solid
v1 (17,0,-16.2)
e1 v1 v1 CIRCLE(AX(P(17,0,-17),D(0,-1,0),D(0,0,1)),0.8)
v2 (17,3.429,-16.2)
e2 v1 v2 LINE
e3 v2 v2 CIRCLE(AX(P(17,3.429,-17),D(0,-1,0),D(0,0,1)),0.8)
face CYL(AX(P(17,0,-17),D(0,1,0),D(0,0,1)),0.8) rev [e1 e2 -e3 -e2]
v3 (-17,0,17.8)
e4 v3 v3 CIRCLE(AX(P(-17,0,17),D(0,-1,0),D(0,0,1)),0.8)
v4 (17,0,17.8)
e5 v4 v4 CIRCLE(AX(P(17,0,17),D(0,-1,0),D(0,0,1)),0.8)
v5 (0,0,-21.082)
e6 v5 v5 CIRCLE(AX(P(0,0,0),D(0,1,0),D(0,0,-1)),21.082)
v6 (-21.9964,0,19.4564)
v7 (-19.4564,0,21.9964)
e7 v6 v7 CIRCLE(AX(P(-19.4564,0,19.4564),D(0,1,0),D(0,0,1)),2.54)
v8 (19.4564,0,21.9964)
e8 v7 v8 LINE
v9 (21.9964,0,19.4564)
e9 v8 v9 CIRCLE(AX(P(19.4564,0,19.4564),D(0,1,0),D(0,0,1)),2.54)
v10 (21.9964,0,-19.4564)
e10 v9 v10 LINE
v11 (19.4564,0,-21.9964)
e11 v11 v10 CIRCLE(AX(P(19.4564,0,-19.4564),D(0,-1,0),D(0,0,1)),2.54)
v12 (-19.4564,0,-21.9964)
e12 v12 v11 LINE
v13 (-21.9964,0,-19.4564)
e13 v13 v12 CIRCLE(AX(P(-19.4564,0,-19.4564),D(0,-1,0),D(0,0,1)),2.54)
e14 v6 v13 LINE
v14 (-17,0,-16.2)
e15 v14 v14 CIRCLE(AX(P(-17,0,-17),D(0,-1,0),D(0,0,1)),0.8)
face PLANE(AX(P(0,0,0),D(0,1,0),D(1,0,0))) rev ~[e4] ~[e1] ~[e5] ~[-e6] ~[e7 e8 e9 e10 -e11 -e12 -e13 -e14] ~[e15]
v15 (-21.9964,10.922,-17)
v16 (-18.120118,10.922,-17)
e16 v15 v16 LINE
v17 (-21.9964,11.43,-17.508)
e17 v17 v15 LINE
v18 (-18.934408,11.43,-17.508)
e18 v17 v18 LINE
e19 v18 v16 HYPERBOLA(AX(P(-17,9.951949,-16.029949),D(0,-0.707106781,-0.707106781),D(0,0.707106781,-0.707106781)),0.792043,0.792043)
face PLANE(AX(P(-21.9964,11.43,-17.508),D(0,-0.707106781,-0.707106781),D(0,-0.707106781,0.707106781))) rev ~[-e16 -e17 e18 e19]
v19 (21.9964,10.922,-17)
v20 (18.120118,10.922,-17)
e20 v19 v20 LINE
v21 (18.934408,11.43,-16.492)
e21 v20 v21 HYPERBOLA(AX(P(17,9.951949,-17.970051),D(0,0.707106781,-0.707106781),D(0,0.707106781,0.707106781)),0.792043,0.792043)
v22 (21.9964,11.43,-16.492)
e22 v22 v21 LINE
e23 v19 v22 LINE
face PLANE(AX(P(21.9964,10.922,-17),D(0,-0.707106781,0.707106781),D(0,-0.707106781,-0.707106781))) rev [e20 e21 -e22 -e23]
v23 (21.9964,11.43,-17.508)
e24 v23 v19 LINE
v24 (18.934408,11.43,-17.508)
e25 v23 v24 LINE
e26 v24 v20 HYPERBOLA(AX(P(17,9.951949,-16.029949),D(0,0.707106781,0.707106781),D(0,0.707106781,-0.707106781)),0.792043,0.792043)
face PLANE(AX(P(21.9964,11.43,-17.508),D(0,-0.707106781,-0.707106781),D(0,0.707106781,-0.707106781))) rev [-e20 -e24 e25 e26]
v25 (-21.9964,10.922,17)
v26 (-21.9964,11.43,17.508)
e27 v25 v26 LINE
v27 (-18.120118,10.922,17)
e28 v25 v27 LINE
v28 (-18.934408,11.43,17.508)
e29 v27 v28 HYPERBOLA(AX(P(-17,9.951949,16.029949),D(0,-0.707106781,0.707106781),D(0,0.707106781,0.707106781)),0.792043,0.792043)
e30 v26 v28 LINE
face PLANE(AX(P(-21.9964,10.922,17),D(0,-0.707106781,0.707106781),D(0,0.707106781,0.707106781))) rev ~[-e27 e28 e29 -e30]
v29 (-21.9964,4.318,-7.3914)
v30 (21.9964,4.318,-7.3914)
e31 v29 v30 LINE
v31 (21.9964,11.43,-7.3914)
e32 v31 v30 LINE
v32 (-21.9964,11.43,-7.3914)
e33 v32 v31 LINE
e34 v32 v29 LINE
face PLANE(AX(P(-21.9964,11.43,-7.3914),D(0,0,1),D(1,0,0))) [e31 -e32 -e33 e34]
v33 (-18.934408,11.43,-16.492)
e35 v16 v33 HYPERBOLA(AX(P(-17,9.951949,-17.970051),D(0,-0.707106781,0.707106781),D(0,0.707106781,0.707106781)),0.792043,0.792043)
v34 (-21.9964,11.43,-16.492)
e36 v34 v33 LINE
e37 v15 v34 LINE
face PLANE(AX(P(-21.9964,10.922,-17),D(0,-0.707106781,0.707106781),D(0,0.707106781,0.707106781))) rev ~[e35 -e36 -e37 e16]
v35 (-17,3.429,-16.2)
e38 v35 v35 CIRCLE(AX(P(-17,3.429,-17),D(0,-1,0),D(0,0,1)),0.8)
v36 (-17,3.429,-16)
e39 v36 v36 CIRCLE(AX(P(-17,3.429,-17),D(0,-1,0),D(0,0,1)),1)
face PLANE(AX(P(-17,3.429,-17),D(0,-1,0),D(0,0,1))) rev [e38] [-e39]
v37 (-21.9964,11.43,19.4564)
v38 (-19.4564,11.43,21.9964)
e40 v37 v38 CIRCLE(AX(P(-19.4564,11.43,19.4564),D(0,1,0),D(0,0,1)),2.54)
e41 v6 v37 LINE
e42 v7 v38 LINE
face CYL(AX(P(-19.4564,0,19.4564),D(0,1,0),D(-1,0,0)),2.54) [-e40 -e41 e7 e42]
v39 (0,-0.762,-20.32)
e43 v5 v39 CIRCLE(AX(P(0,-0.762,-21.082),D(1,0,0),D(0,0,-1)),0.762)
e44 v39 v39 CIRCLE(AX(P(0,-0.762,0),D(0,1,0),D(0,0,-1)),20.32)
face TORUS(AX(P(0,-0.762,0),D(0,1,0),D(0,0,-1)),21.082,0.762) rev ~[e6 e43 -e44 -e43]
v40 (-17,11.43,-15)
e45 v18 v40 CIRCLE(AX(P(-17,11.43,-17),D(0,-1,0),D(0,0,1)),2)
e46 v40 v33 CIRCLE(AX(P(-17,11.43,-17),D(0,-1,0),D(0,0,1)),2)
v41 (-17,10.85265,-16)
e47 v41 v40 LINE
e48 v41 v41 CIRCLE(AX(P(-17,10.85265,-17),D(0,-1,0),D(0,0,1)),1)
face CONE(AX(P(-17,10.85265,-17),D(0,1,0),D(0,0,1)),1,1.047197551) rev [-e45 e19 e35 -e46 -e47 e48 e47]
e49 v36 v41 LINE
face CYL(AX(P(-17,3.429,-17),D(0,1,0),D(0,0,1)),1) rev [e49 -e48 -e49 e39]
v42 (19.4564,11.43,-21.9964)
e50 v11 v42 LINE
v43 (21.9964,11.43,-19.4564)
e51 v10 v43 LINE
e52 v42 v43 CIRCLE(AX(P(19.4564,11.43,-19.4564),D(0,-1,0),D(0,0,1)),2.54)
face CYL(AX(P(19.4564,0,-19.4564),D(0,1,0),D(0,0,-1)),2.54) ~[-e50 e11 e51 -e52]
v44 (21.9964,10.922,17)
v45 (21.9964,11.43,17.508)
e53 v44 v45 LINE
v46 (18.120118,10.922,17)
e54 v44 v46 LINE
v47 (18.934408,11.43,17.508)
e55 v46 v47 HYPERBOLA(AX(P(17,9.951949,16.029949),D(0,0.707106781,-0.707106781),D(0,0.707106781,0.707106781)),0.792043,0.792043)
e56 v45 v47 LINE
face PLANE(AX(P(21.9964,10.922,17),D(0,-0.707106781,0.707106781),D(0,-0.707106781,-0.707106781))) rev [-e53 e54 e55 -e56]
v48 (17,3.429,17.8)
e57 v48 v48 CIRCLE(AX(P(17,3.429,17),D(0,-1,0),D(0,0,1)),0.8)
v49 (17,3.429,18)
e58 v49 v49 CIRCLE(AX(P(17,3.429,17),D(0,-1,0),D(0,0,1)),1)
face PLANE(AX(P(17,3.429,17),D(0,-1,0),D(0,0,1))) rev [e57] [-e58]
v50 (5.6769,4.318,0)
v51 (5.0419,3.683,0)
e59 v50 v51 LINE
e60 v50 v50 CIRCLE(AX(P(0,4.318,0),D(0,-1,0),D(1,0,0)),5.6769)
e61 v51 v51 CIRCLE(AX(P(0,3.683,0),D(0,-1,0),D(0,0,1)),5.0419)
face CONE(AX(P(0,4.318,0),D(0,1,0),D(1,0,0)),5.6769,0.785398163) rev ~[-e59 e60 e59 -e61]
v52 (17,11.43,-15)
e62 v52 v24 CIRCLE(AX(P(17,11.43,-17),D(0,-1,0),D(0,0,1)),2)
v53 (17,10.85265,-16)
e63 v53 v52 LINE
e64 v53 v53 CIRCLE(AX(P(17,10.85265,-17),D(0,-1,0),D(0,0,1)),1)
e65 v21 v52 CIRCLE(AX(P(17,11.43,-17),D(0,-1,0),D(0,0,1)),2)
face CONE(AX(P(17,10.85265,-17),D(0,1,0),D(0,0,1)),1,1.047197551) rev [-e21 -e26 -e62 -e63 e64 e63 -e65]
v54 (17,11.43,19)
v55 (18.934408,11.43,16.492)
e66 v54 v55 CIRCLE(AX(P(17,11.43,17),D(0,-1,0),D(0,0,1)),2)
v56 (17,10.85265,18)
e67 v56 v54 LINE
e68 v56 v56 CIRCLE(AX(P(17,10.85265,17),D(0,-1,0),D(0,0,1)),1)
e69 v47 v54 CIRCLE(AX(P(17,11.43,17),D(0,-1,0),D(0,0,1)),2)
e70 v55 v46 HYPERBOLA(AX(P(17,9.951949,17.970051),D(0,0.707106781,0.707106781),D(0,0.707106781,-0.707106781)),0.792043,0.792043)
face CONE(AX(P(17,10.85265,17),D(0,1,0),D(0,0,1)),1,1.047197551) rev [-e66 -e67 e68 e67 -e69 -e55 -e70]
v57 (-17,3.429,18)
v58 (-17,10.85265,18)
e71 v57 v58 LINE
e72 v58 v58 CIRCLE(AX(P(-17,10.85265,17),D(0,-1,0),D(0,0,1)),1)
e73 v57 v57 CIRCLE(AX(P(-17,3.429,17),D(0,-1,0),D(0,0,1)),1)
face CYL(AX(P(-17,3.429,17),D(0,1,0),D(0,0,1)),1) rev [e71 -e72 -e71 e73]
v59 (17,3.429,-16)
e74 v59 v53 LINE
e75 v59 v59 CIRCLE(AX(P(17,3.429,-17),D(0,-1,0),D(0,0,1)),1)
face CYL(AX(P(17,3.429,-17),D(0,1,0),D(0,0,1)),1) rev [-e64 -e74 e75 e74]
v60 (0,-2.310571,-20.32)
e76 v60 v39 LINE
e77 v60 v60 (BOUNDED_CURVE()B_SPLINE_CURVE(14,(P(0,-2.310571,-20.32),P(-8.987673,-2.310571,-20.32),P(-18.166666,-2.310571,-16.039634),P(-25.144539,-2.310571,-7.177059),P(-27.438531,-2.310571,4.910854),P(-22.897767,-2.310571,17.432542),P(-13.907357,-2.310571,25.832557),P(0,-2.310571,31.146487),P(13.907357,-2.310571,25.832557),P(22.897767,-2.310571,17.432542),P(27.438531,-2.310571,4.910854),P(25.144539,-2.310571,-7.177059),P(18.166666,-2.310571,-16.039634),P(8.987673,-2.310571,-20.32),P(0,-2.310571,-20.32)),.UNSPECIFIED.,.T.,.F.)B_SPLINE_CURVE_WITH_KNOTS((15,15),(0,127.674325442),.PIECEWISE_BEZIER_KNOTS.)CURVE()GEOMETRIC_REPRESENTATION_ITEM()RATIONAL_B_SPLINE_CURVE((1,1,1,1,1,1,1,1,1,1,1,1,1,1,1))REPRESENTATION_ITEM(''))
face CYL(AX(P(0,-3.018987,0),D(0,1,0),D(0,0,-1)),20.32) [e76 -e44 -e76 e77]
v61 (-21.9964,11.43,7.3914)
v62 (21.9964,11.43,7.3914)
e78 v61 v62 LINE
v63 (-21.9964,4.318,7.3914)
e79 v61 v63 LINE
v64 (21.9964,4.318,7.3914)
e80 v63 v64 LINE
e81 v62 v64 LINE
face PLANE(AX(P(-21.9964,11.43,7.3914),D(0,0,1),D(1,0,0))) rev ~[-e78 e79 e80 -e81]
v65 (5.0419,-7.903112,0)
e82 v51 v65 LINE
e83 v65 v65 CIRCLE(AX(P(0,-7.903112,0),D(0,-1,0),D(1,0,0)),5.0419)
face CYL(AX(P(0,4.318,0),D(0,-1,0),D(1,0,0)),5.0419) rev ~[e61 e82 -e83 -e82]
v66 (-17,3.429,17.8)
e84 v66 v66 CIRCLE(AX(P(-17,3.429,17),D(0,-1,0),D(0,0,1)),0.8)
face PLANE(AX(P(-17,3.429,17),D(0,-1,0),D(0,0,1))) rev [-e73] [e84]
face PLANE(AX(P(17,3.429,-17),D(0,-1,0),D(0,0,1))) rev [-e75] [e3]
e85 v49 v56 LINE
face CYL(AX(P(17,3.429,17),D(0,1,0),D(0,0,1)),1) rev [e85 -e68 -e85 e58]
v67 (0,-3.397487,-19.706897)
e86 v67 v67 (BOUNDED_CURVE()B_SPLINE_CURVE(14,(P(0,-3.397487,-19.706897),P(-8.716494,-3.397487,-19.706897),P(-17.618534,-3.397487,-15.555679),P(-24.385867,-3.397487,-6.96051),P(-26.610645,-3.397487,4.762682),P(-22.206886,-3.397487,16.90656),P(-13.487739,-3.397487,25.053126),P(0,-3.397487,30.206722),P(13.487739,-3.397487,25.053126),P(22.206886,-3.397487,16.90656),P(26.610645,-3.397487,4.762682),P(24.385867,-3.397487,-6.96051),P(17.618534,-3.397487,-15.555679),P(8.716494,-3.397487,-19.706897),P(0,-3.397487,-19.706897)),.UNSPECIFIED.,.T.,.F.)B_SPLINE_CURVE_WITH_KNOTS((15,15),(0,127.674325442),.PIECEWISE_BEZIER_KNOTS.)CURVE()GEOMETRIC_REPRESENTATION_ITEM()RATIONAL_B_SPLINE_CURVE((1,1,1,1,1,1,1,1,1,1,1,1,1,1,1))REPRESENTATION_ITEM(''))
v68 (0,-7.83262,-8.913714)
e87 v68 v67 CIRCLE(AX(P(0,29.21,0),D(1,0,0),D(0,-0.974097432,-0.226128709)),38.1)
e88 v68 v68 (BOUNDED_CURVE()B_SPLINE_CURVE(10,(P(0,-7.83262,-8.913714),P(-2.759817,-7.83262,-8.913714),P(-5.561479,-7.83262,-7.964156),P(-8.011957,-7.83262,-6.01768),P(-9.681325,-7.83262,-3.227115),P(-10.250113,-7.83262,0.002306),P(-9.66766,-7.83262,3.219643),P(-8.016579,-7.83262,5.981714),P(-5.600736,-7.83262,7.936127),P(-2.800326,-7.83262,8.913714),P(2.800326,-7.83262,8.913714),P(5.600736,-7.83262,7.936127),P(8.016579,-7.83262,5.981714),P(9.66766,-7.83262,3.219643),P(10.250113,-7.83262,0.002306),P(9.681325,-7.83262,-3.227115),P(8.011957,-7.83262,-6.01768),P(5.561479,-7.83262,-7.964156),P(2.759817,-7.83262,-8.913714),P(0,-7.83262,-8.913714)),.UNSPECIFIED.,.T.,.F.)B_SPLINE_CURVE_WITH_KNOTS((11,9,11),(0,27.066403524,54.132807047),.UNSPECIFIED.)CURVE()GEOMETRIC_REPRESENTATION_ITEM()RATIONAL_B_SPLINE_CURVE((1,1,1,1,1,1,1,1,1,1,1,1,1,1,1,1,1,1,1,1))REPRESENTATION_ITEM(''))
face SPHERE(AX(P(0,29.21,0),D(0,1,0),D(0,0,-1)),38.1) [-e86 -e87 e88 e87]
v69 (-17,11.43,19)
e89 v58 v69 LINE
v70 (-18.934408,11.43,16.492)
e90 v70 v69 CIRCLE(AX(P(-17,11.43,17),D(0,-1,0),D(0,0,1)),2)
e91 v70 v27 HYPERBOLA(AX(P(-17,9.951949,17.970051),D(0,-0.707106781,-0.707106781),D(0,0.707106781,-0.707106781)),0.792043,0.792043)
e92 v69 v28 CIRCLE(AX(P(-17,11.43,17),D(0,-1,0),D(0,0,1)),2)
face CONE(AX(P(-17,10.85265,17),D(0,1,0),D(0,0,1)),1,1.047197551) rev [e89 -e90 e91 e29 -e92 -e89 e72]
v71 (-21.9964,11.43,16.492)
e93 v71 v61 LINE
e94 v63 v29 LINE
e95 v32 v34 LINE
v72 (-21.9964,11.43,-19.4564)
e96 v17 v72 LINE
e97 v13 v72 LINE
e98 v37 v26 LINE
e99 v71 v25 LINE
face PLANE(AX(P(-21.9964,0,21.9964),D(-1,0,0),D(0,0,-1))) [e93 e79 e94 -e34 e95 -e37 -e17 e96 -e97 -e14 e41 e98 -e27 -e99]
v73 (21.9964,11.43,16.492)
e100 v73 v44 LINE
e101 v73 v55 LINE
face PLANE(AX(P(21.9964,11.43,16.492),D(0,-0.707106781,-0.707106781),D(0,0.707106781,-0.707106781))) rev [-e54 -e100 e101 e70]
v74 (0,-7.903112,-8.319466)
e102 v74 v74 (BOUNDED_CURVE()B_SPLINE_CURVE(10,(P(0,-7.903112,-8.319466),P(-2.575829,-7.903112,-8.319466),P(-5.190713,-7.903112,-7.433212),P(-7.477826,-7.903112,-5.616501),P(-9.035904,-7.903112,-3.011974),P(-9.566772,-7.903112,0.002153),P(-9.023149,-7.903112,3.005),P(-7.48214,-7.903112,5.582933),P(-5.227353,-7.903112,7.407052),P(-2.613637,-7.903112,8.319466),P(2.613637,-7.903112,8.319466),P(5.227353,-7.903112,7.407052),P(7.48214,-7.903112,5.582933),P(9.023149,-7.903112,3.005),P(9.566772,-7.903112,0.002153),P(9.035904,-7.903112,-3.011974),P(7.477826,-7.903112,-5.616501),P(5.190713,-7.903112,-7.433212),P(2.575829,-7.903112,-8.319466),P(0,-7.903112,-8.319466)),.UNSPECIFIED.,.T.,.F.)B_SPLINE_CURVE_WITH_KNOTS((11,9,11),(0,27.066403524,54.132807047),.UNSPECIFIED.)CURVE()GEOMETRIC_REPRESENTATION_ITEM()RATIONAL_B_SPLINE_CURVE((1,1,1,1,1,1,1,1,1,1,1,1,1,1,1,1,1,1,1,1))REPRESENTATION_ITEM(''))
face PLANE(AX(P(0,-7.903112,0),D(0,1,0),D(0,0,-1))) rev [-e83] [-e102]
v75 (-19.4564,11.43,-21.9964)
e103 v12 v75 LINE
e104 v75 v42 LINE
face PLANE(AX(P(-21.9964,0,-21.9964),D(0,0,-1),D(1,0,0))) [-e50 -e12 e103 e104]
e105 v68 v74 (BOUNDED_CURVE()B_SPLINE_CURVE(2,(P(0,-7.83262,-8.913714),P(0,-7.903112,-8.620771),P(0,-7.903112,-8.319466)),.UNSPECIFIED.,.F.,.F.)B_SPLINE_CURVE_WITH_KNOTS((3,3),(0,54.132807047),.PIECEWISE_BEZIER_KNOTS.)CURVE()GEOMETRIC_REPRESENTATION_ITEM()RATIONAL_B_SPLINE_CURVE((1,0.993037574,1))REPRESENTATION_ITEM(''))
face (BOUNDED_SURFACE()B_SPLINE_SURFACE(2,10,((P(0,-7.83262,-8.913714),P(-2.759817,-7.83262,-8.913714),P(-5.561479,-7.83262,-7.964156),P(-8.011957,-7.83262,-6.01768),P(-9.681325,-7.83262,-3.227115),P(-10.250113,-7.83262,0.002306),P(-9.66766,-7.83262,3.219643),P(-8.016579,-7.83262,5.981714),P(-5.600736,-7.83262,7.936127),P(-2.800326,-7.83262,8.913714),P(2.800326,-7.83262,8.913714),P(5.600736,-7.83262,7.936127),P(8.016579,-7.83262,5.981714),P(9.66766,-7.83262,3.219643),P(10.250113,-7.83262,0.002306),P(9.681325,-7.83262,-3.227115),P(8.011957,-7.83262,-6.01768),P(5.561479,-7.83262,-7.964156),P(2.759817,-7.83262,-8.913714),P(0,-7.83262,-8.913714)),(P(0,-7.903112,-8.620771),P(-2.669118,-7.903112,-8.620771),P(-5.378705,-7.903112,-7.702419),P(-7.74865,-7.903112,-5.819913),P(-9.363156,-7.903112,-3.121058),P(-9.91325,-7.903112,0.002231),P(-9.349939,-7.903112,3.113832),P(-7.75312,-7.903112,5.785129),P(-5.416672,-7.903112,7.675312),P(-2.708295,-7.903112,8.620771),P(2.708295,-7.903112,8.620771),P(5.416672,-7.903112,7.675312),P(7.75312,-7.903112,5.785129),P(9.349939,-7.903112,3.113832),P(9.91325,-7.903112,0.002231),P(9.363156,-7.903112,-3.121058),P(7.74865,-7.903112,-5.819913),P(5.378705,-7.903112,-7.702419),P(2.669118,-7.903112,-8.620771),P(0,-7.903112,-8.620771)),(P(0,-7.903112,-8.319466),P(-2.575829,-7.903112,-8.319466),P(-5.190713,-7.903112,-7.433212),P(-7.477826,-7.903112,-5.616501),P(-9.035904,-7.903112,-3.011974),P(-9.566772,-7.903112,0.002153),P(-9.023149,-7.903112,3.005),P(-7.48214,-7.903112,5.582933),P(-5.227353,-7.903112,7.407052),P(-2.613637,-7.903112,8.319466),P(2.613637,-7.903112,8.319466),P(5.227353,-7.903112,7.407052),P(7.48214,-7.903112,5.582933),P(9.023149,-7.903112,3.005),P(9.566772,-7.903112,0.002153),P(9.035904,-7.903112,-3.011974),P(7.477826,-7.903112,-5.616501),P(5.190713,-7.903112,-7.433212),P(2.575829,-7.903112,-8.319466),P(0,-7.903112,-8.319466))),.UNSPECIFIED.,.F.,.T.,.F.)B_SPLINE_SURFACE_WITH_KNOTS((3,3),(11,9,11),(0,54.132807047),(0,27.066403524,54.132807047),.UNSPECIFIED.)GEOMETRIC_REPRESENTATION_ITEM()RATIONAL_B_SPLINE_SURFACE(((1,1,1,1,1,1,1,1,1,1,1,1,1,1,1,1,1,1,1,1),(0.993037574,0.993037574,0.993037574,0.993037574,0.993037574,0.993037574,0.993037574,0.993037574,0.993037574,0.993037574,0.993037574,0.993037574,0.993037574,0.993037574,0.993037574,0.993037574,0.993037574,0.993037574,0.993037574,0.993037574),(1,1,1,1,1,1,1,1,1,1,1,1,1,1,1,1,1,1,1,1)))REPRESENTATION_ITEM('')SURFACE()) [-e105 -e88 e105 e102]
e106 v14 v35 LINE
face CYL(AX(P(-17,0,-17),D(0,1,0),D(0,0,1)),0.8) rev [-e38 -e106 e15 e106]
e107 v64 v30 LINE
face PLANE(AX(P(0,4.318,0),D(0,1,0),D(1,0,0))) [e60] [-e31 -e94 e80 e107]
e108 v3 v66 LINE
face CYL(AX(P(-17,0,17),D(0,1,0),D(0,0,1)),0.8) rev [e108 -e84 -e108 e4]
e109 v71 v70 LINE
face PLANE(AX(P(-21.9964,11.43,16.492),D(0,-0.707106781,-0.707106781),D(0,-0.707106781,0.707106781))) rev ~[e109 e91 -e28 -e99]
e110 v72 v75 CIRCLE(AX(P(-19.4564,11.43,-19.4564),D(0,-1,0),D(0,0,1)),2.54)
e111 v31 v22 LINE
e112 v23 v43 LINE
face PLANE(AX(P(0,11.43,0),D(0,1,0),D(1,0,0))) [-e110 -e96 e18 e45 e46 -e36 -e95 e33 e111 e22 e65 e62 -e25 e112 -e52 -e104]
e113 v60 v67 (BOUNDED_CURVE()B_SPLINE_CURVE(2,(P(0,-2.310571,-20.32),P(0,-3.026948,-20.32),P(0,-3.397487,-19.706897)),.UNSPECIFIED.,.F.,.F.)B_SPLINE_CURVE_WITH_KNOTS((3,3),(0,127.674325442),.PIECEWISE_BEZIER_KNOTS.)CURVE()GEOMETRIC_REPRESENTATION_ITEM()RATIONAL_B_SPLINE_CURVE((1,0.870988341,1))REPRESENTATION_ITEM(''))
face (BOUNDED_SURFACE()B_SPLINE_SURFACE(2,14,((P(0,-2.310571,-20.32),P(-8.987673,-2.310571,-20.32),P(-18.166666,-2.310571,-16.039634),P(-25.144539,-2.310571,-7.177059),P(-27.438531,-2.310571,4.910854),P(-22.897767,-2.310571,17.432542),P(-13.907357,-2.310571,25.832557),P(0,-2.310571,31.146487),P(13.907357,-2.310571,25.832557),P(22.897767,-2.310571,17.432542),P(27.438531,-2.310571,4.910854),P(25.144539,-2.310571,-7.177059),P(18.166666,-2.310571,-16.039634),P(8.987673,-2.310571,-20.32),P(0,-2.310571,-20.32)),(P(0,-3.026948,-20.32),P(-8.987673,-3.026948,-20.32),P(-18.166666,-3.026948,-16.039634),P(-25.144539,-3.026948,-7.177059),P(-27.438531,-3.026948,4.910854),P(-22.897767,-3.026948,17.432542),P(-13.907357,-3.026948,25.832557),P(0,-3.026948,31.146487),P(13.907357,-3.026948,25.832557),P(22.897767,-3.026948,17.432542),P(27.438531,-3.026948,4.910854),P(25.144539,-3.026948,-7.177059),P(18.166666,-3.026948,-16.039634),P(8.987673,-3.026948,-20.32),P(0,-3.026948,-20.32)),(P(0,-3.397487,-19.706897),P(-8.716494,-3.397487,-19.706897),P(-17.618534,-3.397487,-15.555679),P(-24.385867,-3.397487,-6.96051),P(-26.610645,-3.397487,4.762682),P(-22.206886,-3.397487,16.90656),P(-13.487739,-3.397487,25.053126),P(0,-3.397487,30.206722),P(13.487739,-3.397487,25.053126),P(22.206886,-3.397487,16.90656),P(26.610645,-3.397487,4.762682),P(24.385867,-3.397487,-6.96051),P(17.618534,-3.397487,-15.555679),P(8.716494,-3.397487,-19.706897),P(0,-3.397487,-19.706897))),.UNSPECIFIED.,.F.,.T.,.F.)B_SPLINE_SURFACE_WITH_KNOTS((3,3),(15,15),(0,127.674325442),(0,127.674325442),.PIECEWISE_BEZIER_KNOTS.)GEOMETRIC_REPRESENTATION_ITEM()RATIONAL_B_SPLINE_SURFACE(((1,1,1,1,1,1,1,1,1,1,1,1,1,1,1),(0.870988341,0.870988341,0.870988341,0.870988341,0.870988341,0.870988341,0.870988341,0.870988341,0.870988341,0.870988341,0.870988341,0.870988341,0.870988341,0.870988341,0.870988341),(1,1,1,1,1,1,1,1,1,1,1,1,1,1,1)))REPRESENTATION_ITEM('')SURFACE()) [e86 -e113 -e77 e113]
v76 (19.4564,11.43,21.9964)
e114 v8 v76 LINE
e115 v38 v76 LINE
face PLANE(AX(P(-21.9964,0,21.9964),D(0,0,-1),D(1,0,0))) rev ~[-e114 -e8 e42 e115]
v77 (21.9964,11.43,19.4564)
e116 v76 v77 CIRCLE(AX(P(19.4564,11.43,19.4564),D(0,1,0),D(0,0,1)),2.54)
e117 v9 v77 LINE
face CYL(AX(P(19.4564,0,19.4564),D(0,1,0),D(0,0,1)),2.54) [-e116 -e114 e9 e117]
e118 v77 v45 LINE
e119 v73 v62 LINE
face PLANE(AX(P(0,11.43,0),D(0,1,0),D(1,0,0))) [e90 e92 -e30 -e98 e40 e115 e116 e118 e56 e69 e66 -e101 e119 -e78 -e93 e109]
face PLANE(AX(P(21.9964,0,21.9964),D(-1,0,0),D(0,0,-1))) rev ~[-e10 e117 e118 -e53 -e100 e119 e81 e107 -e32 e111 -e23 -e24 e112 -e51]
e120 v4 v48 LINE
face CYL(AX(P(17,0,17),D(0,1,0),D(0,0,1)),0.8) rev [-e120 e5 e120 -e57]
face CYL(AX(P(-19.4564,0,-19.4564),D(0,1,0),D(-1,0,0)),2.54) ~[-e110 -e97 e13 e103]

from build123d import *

# Parameters (mm, degrees)
SKETCH1_W                         = 43.9928
SKETCH1_H                         = 43.9928
EXTRUDE1_DEPTH                    = 11.43
M2X0_4_TAPPED_HOLE1_AT_2_COUNT    = 2
M2X0_4_TAPPED_HOLE1_AT_2_PITCH    = 34
M2X0_4_TAPPED_HOLE1_AT_3_COUNT    = 2
M2X0_4_TAPPED_HOLE1_AT_3_PITCH    = 48.083261121
M2X0_4_TAPPED_HOLE1_AT_4_COUNT    = 2
M2X0_4_TAPPED_HOLE1_AT_4_PITCH    = 34
FILLET1_R                         = 2.54
FILLET2_R                         = 0.762
FILLET3_R                         = 1.27
SKETCH8_W                         = 43.9928
SKETCH8_H                         = 14.7828
CUT_EXTRUDE1_DEPTH                = 7.112
F_3_8_CLEARANCE_HOLE1_D           = 10.0838
F_3_8_CLEARANCE_HOLE1_CSINK_D     = 11.3538
F_3_8_CLEARANCE_HOLE1_CSINK_ANGLE = 90
CUT_EXTRUDE2_DEPTH                = 4.9964
FILLET4_R                         = 2.54


with BuildPart() as part:
    # Sketch1 → Extrude1 (new body)
    with BuildSketch(Plane(origin=(0, 0, 0), x_dir=(1, 0, 0), z_dir=(0, 1, 0))):
        Rectangle(SKETCH1_W, SKETCH1_H)
    extrude(amount=EXTRUDE1_DEPTH)

    # Sketch2 → M2x0.4 Tapped Hole1 (revolve, cut)
    with BuildSketch(Plane(origin=(-17, 11.43, -17), x_dir=(0, 0, 1), z_dir=(1, 0, 0))):
        Polygon((0, 0), (0, 11.43), (0.8, 11.43), (0.8, 8.001), (1, 8.001), (1, 0.577350269), (2, 0), align=None)
    m2x0_4_tapped_hole1 = revolve(axis=Axis((-17, 17.78, -17), (0, -1, 0)), mode=Mode.SUBTRACT)

    # M2x0.4 Tapped Hole1 at 2: M2x0.4 Tapped Hole1 ×2
    with Locations(*[(0, 0, i * M2X0_4_TAPPED_HOLE1_AT_2_PITCH) for i in range(1, M2X0_4_TAPPED_HOLE1_AT_2_COUNT)]):
        add(m2x0_4_tapped_hole1, mode=Mode.SUBTRACT)

    # M2x0.4 Tapped Hole1 at 3: M2x0.4 Tapped Hole1 ×2
    with Locations(*[Vector(0.707106781, 0, 0.707106781) * (i * M2X0_4_TAPPED_HOLE1_AT_3_PITCH) for i in range(1, M2X0_4_TAPPED_HOLE1_AT_3_COUNT)]):
        add(m2x0_4_tapped_hole1, mode=Mode.SUBTRACT)

    # M2x0.4 Tapped Hole1 at 4: M2x0.4 Tapped Hole1 ×2
    with Locations(*[(i * M2X0_4_TAPPED_HOLE1_AT_4_PITCH, 0, 0) for i in range(1, M2X0_4_TAPPED_HOLE1_AT_4_COUNT)]):
        add(m2x0_4_tapped_hole1, mode=Mode.SUBTRACT)

    # Fillet1
    fillet1_edges = [part.edges().sort_by_distance(p)[0] for p in [
        (-21.9964, 5.715, -21.9964),
        (21.9964, 5.715, -21.9964),
        (21.9964, 5.715, 21.9964),
        (-21.9964, 5.715, 21.9964),
    ]]
    fillet(fillet1_edges, radius=FILLET1_R)

    # Sketch5 → Revolve2 (revolve)
    with BuildSketch(Plane(origin=(0, 0, 0), x_dir=(0, 0, -1), z_dir=(1, 0, 0)), mode=Mode.PRIVATE) as revolve2_sk:
        with BuildLine():
            Line((-20.32, -3.018986953), (-20.32, 0))
            Line((-20.32, 0), (0, 0))
            Line((0, 0), (0, -7.903112155))
            Line((0, -7.903112155), (-8.615503825, -7.903112155))
            ThreePointArc((-8.615503825, -7.903112155), (-14.67240659, -5.951491505), (-20.32, -3.018986953))
        make_face()
    revolve(revolve2_sk.sketch.rotate(Axis((0, -19.634058574, 0), (0, 1, 0)), 180), axis=Axis((0, -19.634058574, 0), (0, 1, 0)))  # turned: the seam where the file's is

    # Fillet2
    fillet2_edges = [part.edges().sort_by_distance(p)[0] for p in [
        (0, 0, 20.32),
    ]]
    fillet(fillet2_edges, radius=FILLET2_R)

    # Fillet3
    fillet3_edges = [part.edges().sort_by_distance(p)[0] for p in [
        (0, -3.018986953, 20.32),
    ]]
    fillet(fillet3_edges, radius=FILLET3_R)

    # Sketch8 → Cut-Extrude1 (cut)
    with BuildSketch(Plane(origin=(0, 11.43, 0), x_dir=(1, 0, 0), z_dir=(0, 1, 0))):
        Rectangle(SKETCH8_W, SKETCH8_H)
    extrude(amount=-CUT_EXTRUDE1_DEPTH, mode=Mode.SUBTRACT)

    # 3/8 Clearance Hole1 (through all)
    with Locations(Plane(origin=(-2.697409808, 4.318, -0.911996033), x_dir=(-1, 0, 0), z_dir=(0, 1, 0))):
        with Locations((-2.697409808, 0.911996033)):
            CounterSinkHole(F_3_8_CLEARANCE_HOLE1_D / 2, F_3_8_CLEARANCE_HOLE1_CSINK_D / 2, counter_sink_angle=F_3_8_CLEARANCE_HOLE1_CSINK_ANGLE)

    # Sketch9 → Cut-Extrude2 (cut)
    with BuildSketch(Plane.ZY.offset(21.9964)):
        Polygon((-17.508, 11.43), (-17, 10.922), (-16.492, 11.43), align=None)
        Polygon((16.492, 11.43), (17, 10.922), (17.508, 11.43), align=None)
    cut_extrude2 = extrude(amount=-CUT_EXTRUDE2_DEPTH, mode=Mode.SUBTRACT)

    # Mirror1: Cut-Extrude2 across plane
    add(cut_extrude2.mirror(Plane(origin=(0, 0, 0), x_dir=(0, 0, 1), z_dir=(1, 0, 0))), mode=Mode.SUBTRACT)

    # Fillet4
    fillet4_edges = [part.edges().sort_by_distance(p)[0] for p in [
        (0, -7.903112155, 8.615503825),
    ]]
    fillet(fillet4_edges, radius=FILLET4_R)


solid = part.part
